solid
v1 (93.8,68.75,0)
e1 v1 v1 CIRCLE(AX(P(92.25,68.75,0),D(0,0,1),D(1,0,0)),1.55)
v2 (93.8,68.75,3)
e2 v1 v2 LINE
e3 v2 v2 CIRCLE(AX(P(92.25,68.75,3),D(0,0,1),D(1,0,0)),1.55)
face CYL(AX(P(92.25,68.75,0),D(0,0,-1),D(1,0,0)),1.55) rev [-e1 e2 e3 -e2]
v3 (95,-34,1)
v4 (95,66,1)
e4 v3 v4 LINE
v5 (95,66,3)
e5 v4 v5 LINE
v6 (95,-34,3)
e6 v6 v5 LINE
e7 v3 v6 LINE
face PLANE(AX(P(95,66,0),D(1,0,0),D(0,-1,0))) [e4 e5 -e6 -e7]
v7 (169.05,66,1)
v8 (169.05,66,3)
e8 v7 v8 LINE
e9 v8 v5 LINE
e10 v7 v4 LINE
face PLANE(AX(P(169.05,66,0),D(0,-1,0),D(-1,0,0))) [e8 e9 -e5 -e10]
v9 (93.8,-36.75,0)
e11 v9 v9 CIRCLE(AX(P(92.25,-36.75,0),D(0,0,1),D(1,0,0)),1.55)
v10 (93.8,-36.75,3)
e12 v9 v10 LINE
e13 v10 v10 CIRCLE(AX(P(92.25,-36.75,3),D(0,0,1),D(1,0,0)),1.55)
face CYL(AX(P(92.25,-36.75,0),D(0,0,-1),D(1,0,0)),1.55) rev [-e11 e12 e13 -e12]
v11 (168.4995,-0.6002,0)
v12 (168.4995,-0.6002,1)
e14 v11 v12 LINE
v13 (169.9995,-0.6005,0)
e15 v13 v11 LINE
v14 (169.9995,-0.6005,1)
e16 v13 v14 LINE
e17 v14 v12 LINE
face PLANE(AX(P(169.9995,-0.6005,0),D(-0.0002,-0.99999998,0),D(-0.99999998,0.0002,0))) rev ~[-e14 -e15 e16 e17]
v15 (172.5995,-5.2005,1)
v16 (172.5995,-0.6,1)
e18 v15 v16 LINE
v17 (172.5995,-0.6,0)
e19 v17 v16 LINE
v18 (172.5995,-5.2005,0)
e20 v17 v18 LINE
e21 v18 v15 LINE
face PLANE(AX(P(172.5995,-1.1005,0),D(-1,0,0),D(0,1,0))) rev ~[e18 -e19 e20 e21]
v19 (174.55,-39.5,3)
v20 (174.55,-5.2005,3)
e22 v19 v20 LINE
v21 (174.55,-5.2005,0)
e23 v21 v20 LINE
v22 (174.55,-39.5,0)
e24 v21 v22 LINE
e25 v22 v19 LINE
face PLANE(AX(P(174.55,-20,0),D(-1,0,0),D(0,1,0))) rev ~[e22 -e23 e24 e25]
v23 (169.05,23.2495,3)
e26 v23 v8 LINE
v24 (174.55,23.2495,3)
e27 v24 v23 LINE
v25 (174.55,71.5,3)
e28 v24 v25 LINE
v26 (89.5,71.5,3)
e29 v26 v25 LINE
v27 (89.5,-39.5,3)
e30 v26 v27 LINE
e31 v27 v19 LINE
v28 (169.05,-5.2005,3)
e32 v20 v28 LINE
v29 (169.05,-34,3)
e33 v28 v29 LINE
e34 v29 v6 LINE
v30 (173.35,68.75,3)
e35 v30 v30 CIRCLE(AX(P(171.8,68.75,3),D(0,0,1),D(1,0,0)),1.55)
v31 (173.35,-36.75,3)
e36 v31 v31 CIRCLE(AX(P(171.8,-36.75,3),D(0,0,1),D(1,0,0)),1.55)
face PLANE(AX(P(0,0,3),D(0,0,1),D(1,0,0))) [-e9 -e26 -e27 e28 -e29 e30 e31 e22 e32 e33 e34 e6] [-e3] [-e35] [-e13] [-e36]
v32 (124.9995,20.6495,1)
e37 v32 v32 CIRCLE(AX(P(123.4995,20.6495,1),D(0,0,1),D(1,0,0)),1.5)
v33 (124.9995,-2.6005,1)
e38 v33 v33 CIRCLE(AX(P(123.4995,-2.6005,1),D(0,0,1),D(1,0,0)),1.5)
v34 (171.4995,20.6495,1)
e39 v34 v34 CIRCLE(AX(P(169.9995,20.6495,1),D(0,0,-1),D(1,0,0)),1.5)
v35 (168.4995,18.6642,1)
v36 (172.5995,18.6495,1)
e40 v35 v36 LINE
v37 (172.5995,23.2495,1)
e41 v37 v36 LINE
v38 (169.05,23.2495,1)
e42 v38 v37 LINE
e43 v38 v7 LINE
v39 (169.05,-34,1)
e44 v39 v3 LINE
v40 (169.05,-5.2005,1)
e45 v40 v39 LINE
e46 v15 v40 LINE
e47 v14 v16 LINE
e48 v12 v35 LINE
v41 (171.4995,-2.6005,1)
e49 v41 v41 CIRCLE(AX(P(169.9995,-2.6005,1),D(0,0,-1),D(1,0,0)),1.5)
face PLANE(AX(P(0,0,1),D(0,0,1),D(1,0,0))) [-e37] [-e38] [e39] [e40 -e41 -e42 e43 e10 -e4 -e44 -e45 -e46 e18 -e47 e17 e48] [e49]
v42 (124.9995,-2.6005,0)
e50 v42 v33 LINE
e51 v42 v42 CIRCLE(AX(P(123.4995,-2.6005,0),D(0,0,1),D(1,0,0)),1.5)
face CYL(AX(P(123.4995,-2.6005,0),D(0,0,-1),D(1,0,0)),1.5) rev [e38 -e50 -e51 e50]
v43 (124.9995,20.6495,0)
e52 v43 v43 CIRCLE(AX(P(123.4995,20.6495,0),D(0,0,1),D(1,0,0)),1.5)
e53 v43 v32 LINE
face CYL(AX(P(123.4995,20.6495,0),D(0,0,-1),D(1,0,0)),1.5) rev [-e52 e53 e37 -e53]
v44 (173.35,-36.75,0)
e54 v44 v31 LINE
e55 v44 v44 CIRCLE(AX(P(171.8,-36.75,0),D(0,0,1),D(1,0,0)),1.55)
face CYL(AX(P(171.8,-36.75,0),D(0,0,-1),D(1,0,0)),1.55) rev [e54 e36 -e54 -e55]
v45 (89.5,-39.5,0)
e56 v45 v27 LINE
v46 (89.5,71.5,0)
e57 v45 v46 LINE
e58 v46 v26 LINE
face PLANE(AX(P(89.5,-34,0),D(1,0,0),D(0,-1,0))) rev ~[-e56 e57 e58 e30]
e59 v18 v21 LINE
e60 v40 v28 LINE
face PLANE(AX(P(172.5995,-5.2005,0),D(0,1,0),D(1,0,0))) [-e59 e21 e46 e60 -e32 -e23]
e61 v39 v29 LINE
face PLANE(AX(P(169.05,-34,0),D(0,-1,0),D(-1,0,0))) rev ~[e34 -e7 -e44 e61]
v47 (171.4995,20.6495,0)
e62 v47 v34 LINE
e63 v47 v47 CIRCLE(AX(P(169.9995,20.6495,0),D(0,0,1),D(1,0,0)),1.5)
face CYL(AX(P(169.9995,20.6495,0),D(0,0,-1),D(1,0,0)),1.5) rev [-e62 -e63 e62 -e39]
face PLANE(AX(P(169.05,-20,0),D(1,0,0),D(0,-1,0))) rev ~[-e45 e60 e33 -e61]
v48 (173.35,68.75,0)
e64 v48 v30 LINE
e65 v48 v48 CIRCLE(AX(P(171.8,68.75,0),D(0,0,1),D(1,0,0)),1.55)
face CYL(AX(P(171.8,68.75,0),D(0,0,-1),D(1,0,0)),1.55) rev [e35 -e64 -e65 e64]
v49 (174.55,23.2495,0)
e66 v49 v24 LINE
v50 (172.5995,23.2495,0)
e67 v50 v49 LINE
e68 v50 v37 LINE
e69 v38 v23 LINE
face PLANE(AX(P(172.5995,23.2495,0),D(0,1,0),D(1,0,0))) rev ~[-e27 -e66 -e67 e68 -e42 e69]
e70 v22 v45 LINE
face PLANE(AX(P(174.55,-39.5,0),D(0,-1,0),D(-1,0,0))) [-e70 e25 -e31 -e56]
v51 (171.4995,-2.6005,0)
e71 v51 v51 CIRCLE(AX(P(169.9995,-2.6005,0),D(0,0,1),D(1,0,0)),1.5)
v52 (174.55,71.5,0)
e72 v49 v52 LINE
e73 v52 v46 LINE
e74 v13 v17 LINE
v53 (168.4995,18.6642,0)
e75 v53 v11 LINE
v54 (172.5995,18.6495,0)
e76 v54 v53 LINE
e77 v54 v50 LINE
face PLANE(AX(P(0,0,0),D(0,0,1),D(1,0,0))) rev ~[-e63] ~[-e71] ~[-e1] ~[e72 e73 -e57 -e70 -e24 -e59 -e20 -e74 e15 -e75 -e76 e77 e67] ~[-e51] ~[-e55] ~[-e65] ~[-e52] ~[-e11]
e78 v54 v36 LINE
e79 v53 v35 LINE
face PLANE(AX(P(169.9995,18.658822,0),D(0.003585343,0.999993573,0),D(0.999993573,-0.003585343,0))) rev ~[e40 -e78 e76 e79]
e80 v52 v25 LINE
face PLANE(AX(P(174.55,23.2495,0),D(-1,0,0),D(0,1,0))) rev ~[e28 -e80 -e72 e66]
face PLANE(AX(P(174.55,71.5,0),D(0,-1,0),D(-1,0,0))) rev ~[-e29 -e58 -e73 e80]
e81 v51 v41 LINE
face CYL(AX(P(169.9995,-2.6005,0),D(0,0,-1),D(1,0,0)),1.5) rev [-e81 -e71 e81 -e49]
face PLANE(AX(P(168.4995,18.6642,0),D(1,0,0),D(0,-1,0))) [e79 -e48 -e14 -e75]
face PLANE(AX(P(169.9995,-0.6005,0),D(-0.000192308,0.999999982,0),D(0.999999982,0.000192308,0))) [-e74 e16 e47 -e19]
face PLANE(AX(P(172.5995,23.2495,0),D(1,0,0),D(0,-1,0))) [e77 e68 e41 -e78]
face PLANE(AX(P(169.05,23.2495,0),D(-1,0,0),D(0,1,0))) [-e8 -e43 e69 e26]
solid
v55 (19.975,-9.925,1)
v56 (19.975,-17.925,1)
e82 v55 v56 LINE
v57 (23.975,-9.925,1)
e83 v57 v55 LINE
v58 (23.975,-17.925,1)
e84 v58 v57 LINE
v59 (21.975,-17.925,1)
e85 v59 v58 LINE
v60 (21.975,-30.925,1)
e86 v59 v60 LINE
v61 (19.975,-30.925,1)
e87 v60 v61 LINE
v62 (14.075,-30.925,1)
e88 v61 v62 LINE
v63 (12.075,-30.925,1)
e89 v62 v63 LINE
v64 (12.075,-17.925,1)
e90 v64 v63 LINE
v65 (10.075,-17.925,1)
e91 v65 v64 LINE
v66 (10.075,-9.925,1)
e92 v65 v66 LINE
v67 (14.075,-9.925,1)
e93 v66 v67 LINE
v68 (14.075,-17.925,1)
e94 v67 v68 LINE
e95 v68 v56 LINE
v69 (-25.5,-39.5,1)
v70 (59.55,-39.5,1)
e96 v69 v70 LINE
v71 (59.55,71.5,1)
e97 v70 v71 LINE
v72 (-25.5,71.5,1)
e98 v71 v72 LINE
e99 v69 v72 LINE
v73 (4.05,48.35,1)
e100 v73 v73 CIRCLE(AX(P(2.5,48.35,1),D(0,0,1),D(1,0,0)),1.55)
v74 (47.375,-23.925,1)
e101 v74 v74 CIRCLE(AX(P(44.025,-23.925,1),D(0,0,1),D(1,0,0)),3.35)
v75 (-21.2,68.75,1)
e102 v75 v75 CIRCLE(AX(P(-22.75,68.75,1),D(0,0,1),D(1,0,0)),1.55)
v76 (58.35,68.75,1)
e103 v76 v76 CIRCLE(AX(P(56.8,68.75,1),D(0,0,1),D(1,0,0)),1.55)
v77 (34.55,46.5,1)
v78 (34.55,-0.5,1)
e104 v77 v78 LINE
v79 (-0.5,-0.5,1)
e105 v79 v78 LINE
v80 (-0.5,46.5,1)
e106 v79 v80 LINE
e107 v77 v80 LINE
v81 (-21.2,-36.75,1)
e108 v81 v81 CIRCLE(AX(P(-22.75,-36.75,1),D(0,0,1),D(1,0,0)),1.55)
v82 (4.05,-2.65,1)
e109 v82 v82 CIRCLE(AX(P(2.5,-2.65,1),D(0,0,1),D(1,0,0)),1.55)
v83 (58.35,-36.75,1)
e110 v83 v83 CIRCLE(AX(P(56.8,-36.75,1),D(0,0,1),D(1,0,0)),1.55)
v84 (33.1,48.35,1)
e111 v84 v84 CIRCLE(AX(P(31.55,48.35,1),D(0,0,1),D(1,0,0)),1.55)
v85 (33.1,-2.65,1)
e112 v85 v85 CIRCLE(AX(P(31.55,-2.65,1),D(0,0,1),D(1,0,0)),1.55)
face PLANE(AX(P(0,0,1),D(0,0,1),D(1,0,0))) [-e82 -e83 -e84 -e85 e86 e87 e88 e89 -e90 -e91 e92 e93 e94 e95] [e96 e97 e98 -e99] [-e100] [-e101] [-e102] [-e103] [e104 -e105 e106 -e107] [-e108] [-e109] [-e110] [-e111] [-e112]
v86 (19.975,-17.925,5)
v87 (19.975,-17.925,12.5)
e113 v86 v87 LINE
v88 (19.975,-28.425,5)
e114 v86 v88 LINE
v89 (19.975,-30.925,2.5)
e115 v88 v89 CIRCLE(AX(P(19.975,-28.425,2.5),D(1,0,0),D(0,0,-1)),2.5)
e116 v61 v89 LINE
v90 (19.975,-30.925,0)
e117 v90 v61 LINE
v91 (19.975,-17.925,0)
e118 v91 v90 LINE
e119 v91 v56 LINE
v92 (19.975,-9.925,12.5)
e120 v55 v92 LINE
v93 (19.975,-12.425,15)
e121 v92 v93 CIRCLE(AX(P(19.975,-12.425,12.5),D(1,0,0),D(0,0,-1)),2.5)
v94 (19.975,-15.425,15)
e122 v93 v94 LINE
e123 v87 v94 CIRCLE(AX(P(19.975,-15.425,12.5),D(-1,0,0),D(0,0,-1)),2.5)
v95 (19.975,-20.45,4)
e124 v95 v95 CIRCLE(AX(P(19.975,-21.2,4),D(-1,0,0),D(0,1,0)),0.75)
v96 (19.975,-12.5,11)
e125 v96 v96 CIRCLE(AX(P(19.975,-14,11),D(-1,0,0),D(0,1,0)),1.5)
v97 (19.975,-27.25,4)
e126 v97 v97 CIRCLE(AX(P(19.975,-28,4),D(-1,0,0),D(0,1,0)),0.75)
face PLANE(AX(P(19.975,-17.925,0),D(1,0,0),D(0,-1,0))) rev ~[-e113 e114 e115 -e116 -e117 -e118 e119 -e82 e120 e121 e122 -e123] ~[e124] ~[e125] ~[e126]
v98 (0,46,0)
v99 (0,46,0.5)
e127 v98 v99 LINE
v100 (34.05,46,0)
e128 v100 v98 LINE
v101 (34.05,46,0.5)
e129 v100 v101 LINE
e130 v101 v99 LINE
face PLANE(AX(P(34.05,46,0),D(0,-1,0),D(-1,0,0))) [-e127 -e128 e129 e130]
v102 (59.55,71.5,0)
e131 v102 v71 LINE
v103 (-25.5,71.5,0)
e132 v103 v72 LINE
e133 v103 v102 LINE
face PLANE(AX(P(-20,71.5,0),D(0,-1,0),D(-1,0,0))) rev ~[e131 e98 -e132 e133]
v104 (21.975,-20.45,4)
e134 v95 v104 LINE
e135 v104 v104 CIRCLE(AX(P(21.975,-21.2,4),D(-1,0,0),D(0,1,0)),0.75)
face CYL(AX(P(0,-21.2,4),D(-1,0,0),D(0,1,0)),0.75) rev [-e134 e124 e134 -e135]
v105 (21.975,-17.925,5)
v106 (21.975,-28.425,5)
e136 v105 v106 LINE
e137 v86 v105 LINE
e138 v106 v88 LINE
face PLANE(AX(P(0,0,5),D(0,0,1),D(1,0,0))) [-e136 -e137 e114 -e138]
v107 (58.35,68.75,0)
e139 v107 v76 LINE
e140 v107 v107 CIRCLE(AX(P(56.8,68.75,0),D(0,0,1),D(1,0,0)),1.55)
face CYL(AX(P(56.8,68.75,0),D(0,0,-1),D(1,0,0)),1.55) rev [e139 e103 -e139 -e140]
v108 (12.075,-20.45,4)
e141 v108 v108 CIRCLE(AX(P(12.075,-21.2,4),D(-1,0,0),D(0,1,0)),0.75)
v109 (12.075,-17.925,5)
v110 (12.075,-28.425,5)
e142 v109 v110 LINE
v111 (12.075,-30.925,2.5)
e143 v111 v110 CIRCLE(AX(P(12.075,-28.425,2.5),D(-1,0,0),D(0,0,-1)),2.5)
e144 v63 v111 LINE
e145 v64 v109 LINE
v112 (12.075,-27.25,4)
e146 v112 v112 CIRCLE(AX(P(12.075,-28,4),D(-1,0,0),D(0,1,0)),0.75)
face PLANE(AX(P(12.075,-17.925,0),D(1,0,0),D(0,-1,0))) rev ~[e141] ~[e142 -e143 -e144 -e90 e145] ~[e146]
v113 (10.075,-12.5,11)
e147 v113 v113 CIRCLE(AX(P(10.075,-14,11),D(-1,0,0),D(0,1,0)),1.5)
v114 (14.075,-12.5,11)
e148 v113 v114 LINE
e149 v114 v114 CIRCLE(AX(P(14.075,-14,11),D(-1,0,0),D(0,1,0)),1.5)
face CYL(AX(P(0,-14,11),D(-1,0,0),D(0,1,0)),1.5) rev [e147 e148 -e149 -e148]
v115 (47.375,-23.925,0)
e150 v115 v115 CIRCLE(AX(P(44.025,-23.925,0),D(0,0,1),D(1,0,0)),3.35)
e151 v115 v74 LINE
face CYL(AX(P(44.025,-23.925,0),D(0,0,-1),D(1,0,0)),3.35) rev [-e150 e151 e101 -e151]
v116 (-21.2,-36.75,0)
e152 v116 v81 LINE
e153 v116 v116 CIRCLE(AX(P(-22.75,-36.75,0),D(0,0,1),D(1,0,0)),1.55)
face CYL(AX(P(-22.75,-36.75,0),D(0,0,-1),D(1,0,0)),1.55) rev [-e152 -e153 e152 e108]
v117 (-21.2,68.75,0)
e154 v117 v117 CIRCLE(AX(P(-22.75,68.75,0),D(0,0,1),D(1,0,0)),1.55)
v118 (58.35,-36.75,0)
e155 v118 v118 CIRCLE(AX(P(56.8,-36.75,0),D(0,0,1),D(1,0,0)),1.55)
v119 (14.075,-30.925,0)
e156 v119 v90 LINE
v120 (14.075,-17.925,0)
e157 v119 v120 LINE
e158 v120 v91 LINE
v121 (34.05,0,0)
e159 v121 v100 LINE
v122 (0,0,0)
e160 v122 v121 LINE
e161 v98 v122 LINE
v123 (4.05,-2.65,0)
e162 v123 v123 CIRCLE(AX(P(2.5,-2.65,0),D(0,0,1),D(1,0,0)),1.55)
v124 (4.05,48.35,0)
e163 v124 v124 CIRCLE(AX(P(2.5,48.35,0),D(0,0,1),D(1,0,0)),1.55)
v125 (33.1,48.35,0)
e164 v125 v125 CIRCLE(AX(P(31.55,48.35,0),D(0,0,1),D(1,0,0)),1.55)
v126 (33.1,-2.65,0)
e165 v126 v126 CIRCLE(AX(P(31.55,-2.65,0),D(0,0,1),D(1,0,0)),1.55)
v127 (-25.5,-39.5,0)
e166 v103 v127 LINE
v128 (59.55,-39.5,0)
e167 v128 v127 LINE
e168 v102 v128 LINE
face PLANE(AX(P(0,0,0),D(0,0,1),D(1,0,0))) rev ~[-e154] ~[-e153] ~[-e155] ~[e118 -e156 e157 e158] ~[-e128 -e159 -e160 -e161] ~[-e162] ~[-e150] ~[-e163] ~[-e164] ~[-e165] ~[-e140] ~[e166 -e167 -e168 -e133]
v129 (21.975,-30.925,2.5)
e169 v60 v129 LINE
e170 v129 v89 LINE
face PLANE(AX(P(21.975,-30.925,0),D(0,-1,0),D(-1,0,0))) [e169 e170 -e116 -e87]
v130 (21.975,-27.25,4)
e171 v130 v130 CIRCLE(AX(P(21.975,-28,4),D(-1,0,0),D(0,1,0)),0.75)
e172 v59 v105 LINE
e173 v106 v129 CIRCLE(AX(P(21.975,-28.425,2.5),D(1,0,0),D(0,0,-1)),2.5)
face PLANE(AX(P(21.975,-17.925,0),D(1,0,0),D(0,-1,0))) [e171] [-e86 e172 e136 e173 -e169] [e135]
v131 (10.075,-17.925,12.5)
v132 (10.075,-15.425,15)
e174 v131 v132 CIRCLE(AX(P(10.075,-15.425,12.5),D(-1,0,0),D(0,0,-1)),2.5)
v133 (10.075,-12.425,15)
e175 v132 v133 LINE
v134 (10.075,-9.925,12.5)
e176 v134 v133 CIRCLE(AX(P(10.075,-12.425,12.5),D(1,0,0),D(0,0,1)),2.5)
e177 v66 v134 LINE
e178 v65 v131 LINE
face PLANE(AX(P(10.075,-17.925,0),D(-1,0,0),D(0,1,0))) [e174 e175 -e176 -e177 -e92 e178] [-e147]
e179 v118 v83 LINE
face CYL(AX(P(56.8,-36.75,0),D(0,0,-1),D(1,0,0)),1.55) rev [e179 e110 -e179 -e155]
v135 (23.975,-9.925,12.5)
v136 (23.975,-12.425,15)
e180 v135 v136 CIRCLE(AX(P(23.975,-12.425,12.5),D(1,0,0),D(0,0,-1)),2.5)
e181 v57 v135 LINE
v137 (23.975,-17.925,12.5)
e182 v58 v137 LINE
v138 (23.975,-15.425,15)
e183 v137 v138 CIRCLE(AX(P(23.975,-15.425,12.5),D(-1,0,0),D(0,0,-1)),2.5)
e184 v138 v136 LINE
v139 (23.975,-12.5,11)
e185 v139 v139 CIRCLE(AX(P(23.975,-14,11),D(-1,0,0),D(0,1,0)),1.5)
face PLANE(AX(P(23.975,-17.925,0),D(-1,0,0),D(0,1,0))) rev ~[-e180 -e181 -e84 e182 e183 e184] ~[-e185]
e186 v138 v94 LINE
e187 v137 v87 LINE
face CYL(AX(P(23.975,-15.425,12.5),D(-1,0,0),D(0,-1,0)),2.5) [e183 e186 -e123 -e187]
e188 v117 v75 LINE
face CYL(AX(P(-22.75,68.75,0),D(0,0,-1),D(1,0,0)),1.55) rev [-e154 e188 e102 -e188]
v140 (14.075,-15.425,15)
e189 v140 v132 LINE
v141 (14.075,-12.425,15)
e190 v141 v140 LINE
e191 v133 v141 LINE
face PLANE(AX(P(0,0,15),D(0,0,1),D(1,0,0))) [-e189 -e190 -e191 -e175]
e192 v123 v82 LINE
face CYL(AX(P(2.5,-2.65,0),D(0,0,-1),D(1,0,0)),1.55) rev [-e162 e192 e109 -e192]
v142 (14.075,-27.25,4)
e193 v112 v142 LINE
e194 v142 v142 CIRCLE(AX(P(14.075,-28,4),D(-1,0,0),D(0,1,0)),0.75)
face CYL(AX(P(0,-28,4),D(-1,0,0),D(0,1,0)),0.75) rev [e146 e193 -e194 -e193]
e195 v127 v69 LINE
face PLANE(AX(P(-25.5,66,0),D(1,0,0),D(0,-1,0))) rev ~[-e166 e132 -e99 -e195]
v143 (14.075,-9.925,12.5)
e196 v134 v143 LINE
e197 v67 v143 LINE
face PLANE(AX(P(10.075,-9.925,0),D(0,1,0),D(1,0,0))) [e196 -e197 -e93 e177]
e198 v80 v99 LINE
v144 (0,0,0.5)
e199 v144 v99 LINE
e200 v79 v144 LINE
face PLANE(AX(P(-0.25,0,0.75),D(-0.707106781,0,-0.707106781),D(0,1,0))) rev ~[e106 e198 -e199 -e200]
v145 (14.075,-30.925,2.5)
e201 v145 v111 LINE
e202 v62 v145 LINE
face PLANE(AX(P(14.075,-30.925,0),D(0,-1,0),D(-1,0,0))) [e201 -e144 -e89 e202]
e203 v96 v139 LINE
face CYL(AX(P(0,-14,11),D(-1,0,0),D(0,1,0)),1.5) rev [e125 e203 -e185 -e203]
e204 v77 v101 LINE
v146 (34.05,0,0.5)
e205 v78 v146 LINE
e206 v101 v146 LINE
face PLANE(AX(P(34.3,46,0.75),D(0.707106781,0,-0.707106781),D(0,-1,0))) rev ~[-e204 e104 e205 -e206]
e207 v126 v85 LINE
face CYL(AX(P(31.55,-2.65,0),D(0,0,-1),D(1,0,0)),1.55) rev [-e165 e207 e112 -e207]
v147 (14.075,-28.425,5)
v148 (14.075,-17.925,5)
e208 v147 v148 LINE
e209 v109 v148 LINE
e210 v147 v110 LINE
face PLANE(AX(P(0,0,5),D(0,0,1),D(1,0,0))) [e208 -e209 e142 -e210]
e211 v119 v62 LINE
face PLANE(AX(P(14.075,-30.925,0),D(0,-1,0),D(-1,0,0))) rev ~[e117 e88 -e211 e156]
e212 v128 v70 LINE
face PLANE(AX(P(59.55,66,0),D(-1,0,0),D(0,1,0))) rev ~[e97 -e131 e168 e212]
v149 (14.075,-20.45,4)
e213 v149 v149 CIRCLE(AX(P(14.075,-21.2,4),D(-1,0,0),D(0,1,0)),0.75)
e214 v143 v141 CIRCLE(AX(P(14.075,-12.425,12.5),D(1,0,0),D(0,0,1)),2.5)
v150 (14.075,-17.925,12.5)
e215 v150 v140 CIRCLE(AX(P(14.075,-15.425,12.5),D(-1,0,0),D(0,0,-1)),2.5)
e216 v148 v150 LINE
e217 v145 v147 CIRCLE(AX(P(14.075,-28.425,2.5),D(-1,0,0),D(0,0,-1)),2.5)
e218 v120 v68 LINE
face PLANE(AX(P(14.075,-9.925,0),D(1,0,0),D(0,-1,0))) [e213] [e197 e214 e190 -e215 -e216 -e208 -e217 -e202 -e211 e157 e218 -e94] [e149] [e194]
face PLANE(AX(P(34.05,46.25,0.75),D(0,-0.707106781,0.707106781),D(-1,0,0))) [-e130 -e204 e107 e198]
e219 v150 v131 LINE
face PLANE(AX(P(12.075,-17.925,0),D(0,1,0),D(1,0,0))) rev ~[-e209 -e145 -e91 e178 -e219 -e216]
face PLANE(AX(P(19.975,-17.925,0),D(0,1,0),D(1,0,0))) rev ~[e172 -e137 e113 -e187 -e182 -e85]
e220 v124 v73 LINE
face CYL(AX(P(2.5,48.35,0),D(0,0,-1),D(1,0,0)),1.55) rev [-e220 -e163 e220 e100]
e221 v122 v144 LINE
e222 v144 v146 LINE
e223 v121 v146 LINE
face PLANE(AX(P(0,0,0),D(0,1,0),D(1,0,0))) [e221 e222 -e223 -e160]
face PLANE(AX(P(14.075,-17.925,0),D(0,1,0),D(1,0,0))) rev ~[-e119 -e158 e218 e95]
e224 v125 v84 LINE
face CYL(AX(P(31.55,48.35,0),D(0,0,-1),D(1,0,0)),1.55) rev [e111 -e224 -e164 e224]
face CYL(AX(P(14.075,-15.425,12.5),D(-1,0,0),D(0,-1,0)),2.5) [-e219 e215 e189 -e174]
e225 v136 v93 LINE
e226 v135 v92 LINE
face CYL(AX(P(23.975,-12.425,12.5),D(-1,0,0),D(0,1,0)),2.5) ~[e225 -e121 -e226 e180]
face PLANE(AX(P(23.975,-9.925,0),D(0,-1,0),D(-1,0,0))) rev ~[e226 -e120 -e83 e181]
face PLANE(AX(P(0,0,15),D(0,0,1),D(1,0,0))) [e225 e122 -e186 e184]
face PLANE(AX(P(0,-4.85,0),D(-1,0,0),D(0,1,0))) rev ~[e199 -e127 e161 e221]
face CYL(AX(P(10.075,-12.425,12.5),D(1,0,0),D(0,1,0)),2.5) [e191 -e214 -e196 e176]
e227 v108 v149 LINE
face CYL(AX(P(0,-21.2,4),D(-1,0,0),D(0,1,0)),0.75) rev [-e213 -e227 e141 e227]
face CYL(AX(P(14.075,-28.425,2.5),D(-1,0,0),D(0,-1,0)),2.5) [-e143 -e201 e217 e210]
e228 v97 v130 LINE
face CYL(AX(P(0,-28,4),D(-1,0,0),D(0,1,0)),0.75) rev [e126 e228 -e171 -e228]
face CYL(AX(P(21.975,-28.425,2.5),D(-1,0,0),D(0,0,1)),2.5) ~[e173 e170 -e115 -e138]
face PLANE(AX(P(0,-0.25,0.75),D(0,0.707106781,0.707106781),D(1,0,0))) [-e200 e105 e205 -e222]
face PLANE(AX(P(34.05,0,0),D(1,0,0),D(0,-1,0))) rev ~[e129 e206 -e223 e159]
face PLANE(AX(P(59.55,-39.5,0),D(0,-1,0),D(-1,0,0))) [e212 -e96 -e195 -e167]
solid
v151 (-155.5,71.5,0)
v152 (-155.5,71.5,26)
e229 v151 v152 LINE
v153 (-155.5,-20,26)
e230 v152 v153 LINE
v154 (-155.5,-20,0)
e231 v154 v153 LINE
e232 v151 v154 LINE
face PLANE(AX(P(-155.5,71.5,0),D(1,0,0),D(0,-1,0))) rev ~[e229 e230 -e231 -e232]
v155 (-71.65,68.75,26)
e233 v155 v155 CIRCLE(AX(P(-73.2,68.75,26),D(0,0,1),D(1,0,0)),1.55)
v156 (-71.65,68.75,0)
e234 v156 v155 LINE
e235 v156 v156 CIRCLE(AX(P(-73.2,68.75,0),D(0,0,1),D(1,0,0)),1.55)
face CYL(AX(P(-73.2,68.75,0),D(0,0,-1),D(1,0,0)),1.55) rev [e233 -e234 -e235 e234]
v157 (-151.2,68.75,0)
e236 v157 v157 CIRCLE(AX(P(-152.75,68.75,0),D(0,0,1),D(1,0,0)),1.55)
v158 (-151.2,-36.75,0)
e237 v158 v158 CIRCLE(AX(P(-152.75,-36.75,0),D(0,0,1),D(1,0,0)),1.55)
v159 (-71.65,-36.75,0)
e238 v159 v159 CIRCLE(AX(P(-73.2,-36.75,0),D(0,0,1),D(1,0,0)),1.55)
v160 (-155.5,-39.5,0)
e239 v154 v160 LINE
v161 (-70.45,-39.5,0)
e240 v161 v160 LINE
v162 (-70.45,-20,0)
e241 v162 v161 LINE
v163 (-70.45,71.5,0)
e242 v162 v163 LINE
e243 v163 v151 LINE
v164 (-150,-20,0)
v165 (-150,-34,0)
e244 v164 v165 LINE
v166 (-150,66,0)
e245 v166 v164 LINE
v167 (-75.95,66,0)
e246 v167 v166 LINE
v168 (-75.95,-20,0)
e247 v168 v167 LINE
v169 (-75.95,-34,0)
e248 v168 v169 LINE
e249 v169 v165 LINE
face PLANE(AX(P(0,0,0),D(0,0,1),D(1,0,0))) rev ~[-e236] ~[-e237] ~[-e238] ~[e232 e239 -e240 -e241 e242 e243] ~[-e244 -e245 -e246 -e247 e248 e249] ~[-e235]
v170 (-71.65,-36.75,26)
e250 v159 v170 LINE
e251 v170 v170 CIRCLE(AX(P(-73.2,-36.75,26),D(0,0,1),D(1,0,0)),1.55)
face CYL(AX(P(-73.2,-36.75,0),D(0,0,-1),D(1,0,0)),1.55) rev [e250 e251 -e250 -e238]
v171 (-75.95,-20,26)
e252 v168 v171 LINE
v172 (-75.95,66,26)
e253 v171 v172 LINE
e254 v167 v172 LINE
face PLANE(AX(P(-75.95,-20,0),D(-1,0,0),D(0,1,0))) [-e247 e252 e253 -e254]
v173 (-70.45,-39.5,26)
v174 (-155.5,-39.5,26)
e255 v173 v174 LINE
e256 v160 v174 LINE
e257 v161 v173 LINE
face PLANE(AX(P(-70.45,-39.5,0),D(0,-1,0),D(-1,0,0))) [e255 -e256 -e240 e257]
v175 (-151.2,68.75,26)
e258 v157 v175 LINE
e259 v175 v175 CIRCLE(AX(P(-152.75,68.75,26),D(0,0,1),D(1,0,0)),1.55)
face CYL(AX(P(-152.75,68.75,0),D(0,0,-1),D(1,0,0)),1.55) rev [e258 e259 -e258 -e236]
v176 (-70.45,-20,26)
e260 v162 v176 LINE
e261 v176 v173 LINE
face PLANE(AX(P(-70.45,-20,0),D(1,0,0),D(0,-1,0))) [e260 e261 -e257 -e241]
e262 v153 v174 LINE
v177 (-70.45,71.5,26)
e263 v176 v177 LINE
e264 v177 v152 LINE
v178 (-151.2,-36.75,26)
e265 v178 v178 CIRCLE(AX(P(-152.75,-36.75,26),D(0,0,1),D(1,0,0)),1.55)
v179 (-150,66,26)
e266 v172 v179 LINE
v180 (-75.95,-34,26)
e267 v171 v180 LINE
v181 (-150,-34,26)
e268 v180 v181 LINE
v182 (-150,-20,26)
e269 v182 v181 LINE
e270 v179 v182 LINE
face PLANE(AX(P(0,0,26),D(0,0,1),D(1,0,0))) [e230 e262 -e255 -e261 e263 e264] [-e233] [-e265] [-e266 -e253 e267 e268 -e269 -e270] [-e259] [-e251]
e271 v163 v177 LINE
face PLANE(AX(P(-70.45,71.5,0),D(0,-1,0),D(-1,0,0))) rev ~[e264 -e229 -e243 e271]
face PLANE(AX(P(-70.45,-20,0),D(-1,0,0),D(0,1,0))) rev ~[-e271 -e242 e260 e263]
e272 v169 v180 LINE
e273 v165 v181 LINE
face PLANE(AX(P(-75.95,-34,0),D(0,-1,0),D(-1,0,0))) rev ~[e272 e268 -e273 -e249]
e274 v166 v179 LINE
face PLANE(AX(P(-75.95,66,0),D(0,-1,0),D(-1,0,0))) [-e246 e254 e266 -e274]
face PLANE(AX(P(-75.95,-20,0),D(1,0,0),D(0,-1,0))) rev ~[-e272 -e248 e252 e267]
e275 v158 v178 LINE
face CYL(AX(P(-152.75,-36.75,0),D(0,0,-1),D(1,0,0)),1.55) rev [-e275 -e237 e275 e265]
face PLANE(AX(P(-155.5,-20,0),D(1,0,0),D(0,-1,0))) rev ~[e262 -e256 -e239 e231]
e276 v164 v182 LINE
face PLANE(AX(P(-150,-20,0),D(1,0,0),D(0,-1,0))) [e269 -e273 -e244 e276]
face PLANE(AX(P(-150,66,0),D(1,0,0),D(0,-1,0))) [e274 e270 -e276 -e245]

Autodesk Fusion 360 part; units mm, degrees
sketch "Szkic1" plane through (0, 0, 0) normal (0, 0, 1) x (1, 0, 0)
  line L0 (0, 0) -> (34.05, 0)
  line L1 (34.05, 0) -> (34.05, 46)
  line L2 (34.05, 46) -> (0, 46)
  line L3 (0, 46) -> (0, 0)
  line L4 (54.05, -20) -> (54.05, 66)
  line L5 (54.05, 66) -> (-20, 66)
  line L6 (-20, 66) -> (-20, -20)
  line L7 (0, 46) -> (34.05, 46)
  line L8 (34.05, 46) -> (34.05, 50.85)
  line L9 (34.05, 50.85) -> (0, 50.85)
  line L10 (0, 50.85) -> (0, 46)
  line L11 (0, 0) -> (34.05, 0)
  line L12 (34.05, 0) -> (34.05, -4.85)
  line L13 (34.05, -4.85) -> (0, -4.85)
  line L14 (0, -4.85) -> (0, 0)
  line L15 (34.05, 50.85) -> (33.05, 50.85)
  line L16 (34.05, 49.85) -> (34.05, 50.85)
  line L17 (33.05, 49.85) -> (32.7581, 49.85)
  circle A0 centre (31.55, 48.35) radius 1.55
  line L18 (0, 50.85) -> (1, 50.85)
  line L19 (0, 49.85) -> (0, 50.85)
  line L20 (2.5, 49.85) -> (2.5, 48.35)
  circle A1 centre (2.5, 48.35) radius 1.55
  circle A2 centre (2.5, -2.65) radius 1.55
  circle A3 centre (31.55, -2.65) radius 1.55
  line L21 (-20, -20) -> (-20, -34)
  line L22 (54.05, -20) -> (54.05, -34)
  line L23 (54.05, -34) -> (-20, -34)
  line L24 (37.025, -30.925) -> (-2.975, -30.925)
  line L25 (-2.975, -30.925) -> (-2.975, -17.925)
  line L26 (-2.975, -17.925) -> (37.025, -17.925)
  line L27 (37.025, -17.925) -> (37.025, -30.925)
  line L28 (37.025, -30.925) -> (-2.975, -17.925) construction
  line L29 (-2.975, -30.925) -> (37.025, -17.925) construction
  line L30 (19.975, -30.925) -> (14.075, -30.925)
  line L31 (14.075, -30.925) -> (14.075, -17.925)
  line L32 (14.075, -17.925) -> (19.975, -17.925)
  line L33 (19.975, -17.925) -> (19.975, -30.925)
  line L34 (19.975, -30.925) -> (14.075, -17.925) construction
  line L35 (14.075, -30.925) -> (19.975, -17.925) construction
  line L36 (14.075, -17.925) -> (10.075, -17.925)
  line L37 (10.075, -17.925) -> (10.075, -9.925)
  line L38 (10.075, -9.925) -> (14.075, -9.925)
  line L39 (14.075, -9.925) -> (14.075, -17.925)
  line L40 (19.975, -17.925) -> (23.975, -17.925)
  line L41 (23.975, -17.925) -> (23.975, -9.925)
  line L42 (23.975, -9.925) -> (19.975, -9.925)
  line L43 (19.975, -9.925) -> (19.975, -17.925)
  line L44 (14.075, -17.925) -> (12.075, -17.925)
  line L45 (12.075, -17.925) -> (12.075, -30.925)
  line L46 (12.075, -30.925) -> (14.075, -30.925)
  line L47 (14.075, -30.925) -> (14.075, -17.925)
  line L48 (19.975, -17.925) -> (21.975, -17.925)
  line L49 (21.975, -17.925) -> (21.975, -30.925)
  line L50 (21.975, -30.925) -> (19.975, -30.925)
  line L51 (19.975, -30.925) -> (19.975, -17.925)
  line L52 (37.025, -30.925) -> (51.025, -30.925)
  line L53 (51.025, -30.925) -> (51.025, -16.925)
  line L54 (51.025, -16.925) -> (37.025, -16.925)
  line L55 (37.025, -16.925) -> (37.025, -30.925)
  circle A4 centre (44.025, -23.925) radius 3.35
  line L56 (-25.5, -20) -> (-25.5, -39.5)
  line L57 (59.55, -39.5) -> (-25.5, -39.5)
  line L58 (59.55, -20) -> (59.55, -39.5)
  line L59 (59.55, -20) -> (59.55, 71.5)
  line L60 (59.55, 71.5) -> (-25.5, 71.5)
  line L61 (-25.5, 71.5) -> (-25.5, -20)
  line L62 (-25.5, 66) -> (-25.5, 71.5)
  line L63 (-25.5, 71.5) -> (-20, 71.5)
  circle A5 centre (-22.75, 68.75) radius 1.55
  line L64 (59.55, 66) -> (59.55, 71.5)
  line L65 (59.55, 71.5) -> (54.05, 71.5)
  circle A6 centre (56.8, 68.75) radius 1.55
  line L66 (59.55, -34) -> (59.55, -39.5)
  line L67 (59.55, -39.5) -> (54.05, -39.5)
  line L68 (-25.5, -34) -> (-25.5, -39.5)
  line L69 (-25.5, -39.5) -> (-20, -39.5)
  circle A7 centre (56.8, -36.75) radius 1.55
  circle A8 centre (-22.75, -36.75) radius 1.55
  circle A9 centre (171.8, 68.75) radius 1.55
  line L70 (174.55, 71.5) -> (169.05, 71.5)
  line L71 (169.05, -34) -> (95, -34)
  line L72 (95, 66) -> (95, -20)
  line L73 (169.05, 66) -> (95, 66)
  line L74 (169.05, -20) -> (169.05, -34)
  circle A10 centre (171.8, -36.75) radius 1.55
  line L75 (95, -20) -> (95, -34)
  line L76 (174.55, -39.5) -> (169.05, -39.5)
  line L77 (89.5, 66) -> (89.5, 71.5)
  line L78 (89.5, 71.5) -> (95, 71.5)
  circle A11 centre (92.25, 68.75) radius 1.55
  line L79 (174.55, -34) -> (174.55, -39.5)
  line L80 (89.5, -34) -> (89.5, -39.5)
  line L81 (89.5, -39.5) -> (95, -39.5)
  line L82 (89.5, -20) -> (89.5, -39.5)
  line L83 (174.55, -39.5) -> (89.5, -39.5)
  line L84 (174.55, -20) -> (174.55, -39.5)
  line L85 (174.55, -20) -> (174.55, 71.5)
  line L86 (174.55, 71.5) -> (89.5, 71.5)
  line L87 (89.5, 71.5) -> (89.5, -20)
  circle A12 centre (92.25, -36.75) radius 1.55
  line L88 (172.5995, 23.2495) -> (120.8995, 23.2495)
  line L89 (120.8995, 23.2495) -> (120.8995, -5.2005)
  line L90 (120.8995, -5.2005) -> (172.5995, -5.2005)
  line L91 (172.5995, -5.2005) -> (120.8995, 23.2495) construction
  line L92 (172.5995, 23.2495) -> (120.8995, -5.2005) construction
  line L93 (172.5995, -5.2005) -> (172.5995, -4.1005)
  line L94 (171.4995, -5.2005) -> (172.5995, -5.2005)
  line L95 (172.5995, 23.2495) -> (172.5995, 22.1495)
  line L96 (171.4995, 23.2495) -> (172.5995, 23.2495)
  line L97 (120.8995, -5.2005) -> (120.8995, -4.1005)
  line L98 (121.9995, -5.2005) -> (120.8995, -5.2005)
  line L99 (120.8995, 23.2495) -> (120.8995, 22.1495)
  line L100 (121.9995, 23.2495) -> (120.8995, 23.2495)
  line L101 (120.8995, -5.2005) -> (120.8995, -1.1005)
  line L102 (124.9995, -5.2005) -> (120.8995, -5.2005)
  circle A13 centre (123.4995, -2.6005) radius 1.5
  line L103 (120.8995, 23.2495) -> (120.8995, 19.1495)
  line L104 (124.9995, 23.2495) -> (120.8995, 23.2495)
  circle A14 centre (123.4995, 20.6495) radius 1.5
  line L105 (172.5995, 23.2495) -> (172.5995, 19.1495)
  line L106 (168.4995, 23.2495) -> (172.5995, 23.2495)
  line L107 (172.5995, -5.2005) -> (172.5995, -1.1005)
  line L108 (168.4995, -5.2005) -> (172.5995, -5.2005)
  circle A15 centre (169.9995, -2.6005) radius 1.5
  circle A16 centre (169.9995, 20.6495) radius 1.5
  line L109 (169.05, 23.2495) -> (169.05, 66)
  line L110 (170.6006, 22.1495) -> (169.9995, 22.1495)
  line L111 (169.05, -20) -> (169.05, -5.2005)
  line L112 (172.5995, 19.1495) -> (172.5995, 18.6495)
  line L113 (168.4995, 23.2495) -> (168.4995, -5.2005)
  line L114 (172.5995, -1.1005) -> (172.5995, -0.6)
  line L115 (168.4995, 23.2495) -> (172.5995, 23.2495)
  line L116 (172.5995, 23.2495) -> (172.5995, 18.6495)
  line L117 (168.4995, 17.2495) -> (168.4995, 23.2495)
  line L118 (172.5995, -5.2005) -> (168.4995, -5.2005)
  line L119 (168.4995, -5.2005) -> (168.4995, 0.7995)
  line L120 (172.5995, -0.6) -> (172.5995, -5.2005)
  line L121 (172.5995, -5.2005) -> (172.5995, -0.6)
  line L122 (172.5995, 18.6495) -> (172.5995, 23.2495)
  line L123 (169.9995, -0.6005) -> (172.5995, -0.6)
  line L124 (169.9995, -0.6005) -> (168.4995, -0.6002)
  line L125 (169.9995, 20.6495) -> (169.9995, 18.6495)
  line L126 (168.4995, 18.6642) -> (172.5995, 18.6495)
  line L127 (172.5995, 23.2495) -> (174.55, 23.2495)
  line L128 (172.5995, -5.2005) -> (174.55, -5.2005)
  line L129 (-75.95, 66) -> (-150, 66)
  line L130 (-70.45, 71.5) -> (-155.5, 71.5)
  line L131 (-155.5, 71.5) -> (-155.5, -20)
  line L132 (-150, 66) -> (-150, -20)
  circle A17 centre (-152.75, 68.75) radius 1.55
  circle A18 centre (-73.2, 68.75) radius 1.55
  line L133 (-75.95, -20) -> (-75.95, 66)
  line L134 (-70.45, -20) -> (-70.45, 71.5)
  line L135 (-150, -20) -> (-150, -34)
  line L136 (-155.5, -20) -> (-155.5, -39.5)
  line L137 (-75.95, -34) -> (-150, -34)
  line L138 (-70.45, -39.5) -> (-155.5, -39.5)
  circle A19 centre (-152.75, -36.75) radius 1.55
  line L139 (-70.45, -20) -> (-70.45, -39.5)
  line L140 (-75.95, -20) -> (-75.95, -34)
  circle A20 centre (-73.2, -36.75) radius 1.55
  point P0 (17.025, -24.425)
  point P1 (17.025, -24.425)
  point P2 (95, -39.5)
  point P3 (174.55, 66)
  point P4 (146.7495, 9.0245)
  dimension "d1" = 34.05
  dimension "d2" = 46
  dimension "d5" = 4.85
  dimension "d6" = 4.85
  dimension "d7" = 1
  dimension "d11" = 3.1
  dimension "d14" = 1.5
  dimension "d15" = 3.1
  dimension "d16" = 3.1
  dimension "d17" = 3.1
  dimension "d22" = 13
  dimension "d23" = 5.9
  dimension "d24" = 4
  dimension "d25" = 8
  dimension "d26" = 4
  dimension "d27" = 8
  dimension "d28" = 2
  dimension "d29" = 13
  dimension "d30" = 13
  dimension "d31" = 14
  dimension "d32" = 14
  dimension "d33" = 6.7
  dimension "d38" = 5.5
  dimension "d39" = 3.1
  dimension "d40" = 3.1
  dimension "d41" = 3.1
  dimension "d42" = 3.1
  dimension "d68" = 3.1
  dimension "d69" = 3.1
  dimension "d70" = 3.1
  dimension "d71" = 3.1
  dimension "d72" = 28.45
  dimension "d73" = 51.7
  dimension "d74" = 1.1
  dimension "d75" = 1.1
  dimension "d76" = 1.1
  dimension "d77" = 1.1
  dimension "d78" = 1.1
  dimension "d79" = 1.1
  dimension "d80" = 1.1
  dimension "d81" = 1.1
  dimension "d82" = 4.1
  dimension "d83" = 4.1
  dimension "d84" = 4.1
  dimension "d85" = 4.1
  dimension "d86" = 4.1
  dimension "d87" = 4.1
  dimension "d90" = 0.5
  dimension "d91" = 6
  dimension "d101" = 2
  dimension "d102" = 2
  dimension "d107" = 5.5
  dimension "d108" = 3.1
  dimension "d109" = 3.1
  dimension "d110" = 3.1
  dimension "d111" = 3.1
extrude "Wyciągnięcie proste1" add sketch "Szkic1" along normal blind 1 contours L4 L5 L6 L21 L22 L23 | L24 L26 L27 L40 L49 L55 | L27 L52 L53 L54 L55 | L24 L25 L26 L36 L45 makes body 1
extrude "Wyciągnięcie proste2" add sketch "Szkic1" along normal blind 1 contours L0 L11 L12 L13 L14 | L2 L7 L8 L9 L10 L15 L16 L18 L19 bodies 1
extrude "Wyciągnięcie proste3" add sketch "Szkic1" along normal blind 1 contours L56 L57 L58 L59 L60 L61 L62 L63 L64 L65 L66 L67 L68 L69 bodies 1
extrude "Wyciągnięcie proste4" add sketch "Szkic1" along normal blind 5 separate body contours L24 L26 L33 L40 L48 L49 L50 L51 | L24 L26 L31 L36 L44 L45 L46 L47 makes body 2 at (21.975, -22.2583, 1.6667) makes body 3 at (12.075, -22.2583, 1.6667)
extrude "Wyciągnięcie proste5" add sketch "Szkic1" along normal blind 15 contours L26 L40 L41 L42 L43 L48 | L26 L36 L37 L38 L39 L44 bodies 1 2 3
extrude "Wyciągnięcie proste6" add sketch "Szkic1" along normal blind 1 separate body contours L71 L72 L73 L74 L75 L88 L89 L90 L97 L98 L99 L100 L101 L102 L103 L104 L106 L108 L109 L111 L115 L118 makes body 4
extrude "Wyciągnięcie proste7" add sketch "Szkic1" along normal blind 1 contours L88 L95 L96 L105 L106 A16 L112 L113 L115 L116 L117 L122 L125 L126 | L90 L93 L94 L107 L108 L113 L114 L118 L119 L120 L121 L123 L124 | L88 L89 L90 L97 L98 L99 L100 L101 L102 L103 L104 L113 L117 L119 | A16 L113 L117 L125 L126 bodies 4
extrude "Wyciągnięcie proste8" add sketch "Szkic1" along normal blind 3 contours L70 L71 L72 L73 L74 L75 L76 L77 L78 L79 L80 L81 L82 L83 L84 L85 L86 L87 L88 L90 L94 L96 L106 L108 L109 L111 L115 L118 L127 L128 bodies 4
extrude "Wyciągnięcie proste9" add sketch "Szkic1" along normal blind 26 separate body contours L130 L131 L134 L136 L138 L139 makes body 5
sketch "Szkic3" plane through (0, 0, 0) normal (1, 0, 0) x (0, 1, 0)
  line L0 (-18, 15) -> (-10, 15)
  line L1 (-10, 15) -> (-10, 7)
  line L2 (-10, 7) -> (-18, 7)
  line L3 (-18, 7) -> (-18, 15)
  circle A0 centre (-14, 11) radius 4
  circle A1 centre (-14, 11) radius 1.5
  dimension "d114" = 8
  dimension "d115" = 8
  dimension "d125" = 3
sketch "Szkic4" plane through (0, 0, 0) normal (1, 0, 0) x (0, 1, 0)
  line L0 (-31, 5) -> (-18, 5)
  line L1 (-18, 5) -> (-18, 3)
  line L2 (-18, 3) -> (-31, 3)
  line L3 (-31, 3) -> (-31, 5)
  line L4 (-31, 5) -> (-29, 5)
  line L5 (-29, 5) -> (-29, 3)
  line L6 (-29, 3) -> (-31, 3)
  line L7 (-31, 3) -> (-31, 5)
  line L8 (-18, 5) -> (-20.2, 5)
  line L9 (-20.2, 5) -> (-20.2, 3)
  line L10 (-20.2, 3) -> (-18, 3)
  line L11 (-18, 3) -> (-18, 5)
  line L12 (-29, 5) -> (-27, 5)
  line L13 (-27, 5) -> (-27, 3)
  line L14 (-27, 3) -> (-29, 3)
  line L15 (-29, 3) -> (-29, 5)
  line L16 (-20.2, 5) -> (-22.2, 5)
  line L17 (-22.2, 5) -> (-22.2, 3)
  line L18 (-22.2, 3) -> (-20.2, 3)
  line L19 (-20.2, 3) -> (-20.2, 5)
  circle A0 centre (-28, 4) radius 1
  circle A1 centre (-21.2, 4) radius 1
  circle A2 centre (-28, 4) radius 0.75
  circle A3 centre (-21.2, 4) radius 0.75
  dimension "d117" = 2
  dimension "d118" = 2.2
  dimension "d119" = 2
  dimension "d120" = 2
  dimension "d121" = 2
  dimension "d122" = 2
  dimension "d123" = 1.5
  dimension "d124" = 1.5
extrude "Wyciągnięcie proste10" cut sketch "Szkic3" sketch "Szkic4" along normal blind 27 contours A1 of sketch 2 contours A2 | A3 bodies 1
chamfer "Fazowanie1" distance 0.5 angle 45 4 edges at (0, 23, 1) (17.025, 46, 1) (34.05, 23, 1) (17.025, 0, 1) on bodies 1
fillet "Zaokrąglenie1" radius 2.5 4 edges at (21.975, -9.925, 15) (21.975, -17.925, 15) (12.075, -17.925, 15) (12.075, -9.925, 15) on bodies 1
fillet "Zaokrąglenie2" radius 2.5 2 edges at (20.975, -30.925, 5) (13.075, -30.925, 5) on bodies 1
